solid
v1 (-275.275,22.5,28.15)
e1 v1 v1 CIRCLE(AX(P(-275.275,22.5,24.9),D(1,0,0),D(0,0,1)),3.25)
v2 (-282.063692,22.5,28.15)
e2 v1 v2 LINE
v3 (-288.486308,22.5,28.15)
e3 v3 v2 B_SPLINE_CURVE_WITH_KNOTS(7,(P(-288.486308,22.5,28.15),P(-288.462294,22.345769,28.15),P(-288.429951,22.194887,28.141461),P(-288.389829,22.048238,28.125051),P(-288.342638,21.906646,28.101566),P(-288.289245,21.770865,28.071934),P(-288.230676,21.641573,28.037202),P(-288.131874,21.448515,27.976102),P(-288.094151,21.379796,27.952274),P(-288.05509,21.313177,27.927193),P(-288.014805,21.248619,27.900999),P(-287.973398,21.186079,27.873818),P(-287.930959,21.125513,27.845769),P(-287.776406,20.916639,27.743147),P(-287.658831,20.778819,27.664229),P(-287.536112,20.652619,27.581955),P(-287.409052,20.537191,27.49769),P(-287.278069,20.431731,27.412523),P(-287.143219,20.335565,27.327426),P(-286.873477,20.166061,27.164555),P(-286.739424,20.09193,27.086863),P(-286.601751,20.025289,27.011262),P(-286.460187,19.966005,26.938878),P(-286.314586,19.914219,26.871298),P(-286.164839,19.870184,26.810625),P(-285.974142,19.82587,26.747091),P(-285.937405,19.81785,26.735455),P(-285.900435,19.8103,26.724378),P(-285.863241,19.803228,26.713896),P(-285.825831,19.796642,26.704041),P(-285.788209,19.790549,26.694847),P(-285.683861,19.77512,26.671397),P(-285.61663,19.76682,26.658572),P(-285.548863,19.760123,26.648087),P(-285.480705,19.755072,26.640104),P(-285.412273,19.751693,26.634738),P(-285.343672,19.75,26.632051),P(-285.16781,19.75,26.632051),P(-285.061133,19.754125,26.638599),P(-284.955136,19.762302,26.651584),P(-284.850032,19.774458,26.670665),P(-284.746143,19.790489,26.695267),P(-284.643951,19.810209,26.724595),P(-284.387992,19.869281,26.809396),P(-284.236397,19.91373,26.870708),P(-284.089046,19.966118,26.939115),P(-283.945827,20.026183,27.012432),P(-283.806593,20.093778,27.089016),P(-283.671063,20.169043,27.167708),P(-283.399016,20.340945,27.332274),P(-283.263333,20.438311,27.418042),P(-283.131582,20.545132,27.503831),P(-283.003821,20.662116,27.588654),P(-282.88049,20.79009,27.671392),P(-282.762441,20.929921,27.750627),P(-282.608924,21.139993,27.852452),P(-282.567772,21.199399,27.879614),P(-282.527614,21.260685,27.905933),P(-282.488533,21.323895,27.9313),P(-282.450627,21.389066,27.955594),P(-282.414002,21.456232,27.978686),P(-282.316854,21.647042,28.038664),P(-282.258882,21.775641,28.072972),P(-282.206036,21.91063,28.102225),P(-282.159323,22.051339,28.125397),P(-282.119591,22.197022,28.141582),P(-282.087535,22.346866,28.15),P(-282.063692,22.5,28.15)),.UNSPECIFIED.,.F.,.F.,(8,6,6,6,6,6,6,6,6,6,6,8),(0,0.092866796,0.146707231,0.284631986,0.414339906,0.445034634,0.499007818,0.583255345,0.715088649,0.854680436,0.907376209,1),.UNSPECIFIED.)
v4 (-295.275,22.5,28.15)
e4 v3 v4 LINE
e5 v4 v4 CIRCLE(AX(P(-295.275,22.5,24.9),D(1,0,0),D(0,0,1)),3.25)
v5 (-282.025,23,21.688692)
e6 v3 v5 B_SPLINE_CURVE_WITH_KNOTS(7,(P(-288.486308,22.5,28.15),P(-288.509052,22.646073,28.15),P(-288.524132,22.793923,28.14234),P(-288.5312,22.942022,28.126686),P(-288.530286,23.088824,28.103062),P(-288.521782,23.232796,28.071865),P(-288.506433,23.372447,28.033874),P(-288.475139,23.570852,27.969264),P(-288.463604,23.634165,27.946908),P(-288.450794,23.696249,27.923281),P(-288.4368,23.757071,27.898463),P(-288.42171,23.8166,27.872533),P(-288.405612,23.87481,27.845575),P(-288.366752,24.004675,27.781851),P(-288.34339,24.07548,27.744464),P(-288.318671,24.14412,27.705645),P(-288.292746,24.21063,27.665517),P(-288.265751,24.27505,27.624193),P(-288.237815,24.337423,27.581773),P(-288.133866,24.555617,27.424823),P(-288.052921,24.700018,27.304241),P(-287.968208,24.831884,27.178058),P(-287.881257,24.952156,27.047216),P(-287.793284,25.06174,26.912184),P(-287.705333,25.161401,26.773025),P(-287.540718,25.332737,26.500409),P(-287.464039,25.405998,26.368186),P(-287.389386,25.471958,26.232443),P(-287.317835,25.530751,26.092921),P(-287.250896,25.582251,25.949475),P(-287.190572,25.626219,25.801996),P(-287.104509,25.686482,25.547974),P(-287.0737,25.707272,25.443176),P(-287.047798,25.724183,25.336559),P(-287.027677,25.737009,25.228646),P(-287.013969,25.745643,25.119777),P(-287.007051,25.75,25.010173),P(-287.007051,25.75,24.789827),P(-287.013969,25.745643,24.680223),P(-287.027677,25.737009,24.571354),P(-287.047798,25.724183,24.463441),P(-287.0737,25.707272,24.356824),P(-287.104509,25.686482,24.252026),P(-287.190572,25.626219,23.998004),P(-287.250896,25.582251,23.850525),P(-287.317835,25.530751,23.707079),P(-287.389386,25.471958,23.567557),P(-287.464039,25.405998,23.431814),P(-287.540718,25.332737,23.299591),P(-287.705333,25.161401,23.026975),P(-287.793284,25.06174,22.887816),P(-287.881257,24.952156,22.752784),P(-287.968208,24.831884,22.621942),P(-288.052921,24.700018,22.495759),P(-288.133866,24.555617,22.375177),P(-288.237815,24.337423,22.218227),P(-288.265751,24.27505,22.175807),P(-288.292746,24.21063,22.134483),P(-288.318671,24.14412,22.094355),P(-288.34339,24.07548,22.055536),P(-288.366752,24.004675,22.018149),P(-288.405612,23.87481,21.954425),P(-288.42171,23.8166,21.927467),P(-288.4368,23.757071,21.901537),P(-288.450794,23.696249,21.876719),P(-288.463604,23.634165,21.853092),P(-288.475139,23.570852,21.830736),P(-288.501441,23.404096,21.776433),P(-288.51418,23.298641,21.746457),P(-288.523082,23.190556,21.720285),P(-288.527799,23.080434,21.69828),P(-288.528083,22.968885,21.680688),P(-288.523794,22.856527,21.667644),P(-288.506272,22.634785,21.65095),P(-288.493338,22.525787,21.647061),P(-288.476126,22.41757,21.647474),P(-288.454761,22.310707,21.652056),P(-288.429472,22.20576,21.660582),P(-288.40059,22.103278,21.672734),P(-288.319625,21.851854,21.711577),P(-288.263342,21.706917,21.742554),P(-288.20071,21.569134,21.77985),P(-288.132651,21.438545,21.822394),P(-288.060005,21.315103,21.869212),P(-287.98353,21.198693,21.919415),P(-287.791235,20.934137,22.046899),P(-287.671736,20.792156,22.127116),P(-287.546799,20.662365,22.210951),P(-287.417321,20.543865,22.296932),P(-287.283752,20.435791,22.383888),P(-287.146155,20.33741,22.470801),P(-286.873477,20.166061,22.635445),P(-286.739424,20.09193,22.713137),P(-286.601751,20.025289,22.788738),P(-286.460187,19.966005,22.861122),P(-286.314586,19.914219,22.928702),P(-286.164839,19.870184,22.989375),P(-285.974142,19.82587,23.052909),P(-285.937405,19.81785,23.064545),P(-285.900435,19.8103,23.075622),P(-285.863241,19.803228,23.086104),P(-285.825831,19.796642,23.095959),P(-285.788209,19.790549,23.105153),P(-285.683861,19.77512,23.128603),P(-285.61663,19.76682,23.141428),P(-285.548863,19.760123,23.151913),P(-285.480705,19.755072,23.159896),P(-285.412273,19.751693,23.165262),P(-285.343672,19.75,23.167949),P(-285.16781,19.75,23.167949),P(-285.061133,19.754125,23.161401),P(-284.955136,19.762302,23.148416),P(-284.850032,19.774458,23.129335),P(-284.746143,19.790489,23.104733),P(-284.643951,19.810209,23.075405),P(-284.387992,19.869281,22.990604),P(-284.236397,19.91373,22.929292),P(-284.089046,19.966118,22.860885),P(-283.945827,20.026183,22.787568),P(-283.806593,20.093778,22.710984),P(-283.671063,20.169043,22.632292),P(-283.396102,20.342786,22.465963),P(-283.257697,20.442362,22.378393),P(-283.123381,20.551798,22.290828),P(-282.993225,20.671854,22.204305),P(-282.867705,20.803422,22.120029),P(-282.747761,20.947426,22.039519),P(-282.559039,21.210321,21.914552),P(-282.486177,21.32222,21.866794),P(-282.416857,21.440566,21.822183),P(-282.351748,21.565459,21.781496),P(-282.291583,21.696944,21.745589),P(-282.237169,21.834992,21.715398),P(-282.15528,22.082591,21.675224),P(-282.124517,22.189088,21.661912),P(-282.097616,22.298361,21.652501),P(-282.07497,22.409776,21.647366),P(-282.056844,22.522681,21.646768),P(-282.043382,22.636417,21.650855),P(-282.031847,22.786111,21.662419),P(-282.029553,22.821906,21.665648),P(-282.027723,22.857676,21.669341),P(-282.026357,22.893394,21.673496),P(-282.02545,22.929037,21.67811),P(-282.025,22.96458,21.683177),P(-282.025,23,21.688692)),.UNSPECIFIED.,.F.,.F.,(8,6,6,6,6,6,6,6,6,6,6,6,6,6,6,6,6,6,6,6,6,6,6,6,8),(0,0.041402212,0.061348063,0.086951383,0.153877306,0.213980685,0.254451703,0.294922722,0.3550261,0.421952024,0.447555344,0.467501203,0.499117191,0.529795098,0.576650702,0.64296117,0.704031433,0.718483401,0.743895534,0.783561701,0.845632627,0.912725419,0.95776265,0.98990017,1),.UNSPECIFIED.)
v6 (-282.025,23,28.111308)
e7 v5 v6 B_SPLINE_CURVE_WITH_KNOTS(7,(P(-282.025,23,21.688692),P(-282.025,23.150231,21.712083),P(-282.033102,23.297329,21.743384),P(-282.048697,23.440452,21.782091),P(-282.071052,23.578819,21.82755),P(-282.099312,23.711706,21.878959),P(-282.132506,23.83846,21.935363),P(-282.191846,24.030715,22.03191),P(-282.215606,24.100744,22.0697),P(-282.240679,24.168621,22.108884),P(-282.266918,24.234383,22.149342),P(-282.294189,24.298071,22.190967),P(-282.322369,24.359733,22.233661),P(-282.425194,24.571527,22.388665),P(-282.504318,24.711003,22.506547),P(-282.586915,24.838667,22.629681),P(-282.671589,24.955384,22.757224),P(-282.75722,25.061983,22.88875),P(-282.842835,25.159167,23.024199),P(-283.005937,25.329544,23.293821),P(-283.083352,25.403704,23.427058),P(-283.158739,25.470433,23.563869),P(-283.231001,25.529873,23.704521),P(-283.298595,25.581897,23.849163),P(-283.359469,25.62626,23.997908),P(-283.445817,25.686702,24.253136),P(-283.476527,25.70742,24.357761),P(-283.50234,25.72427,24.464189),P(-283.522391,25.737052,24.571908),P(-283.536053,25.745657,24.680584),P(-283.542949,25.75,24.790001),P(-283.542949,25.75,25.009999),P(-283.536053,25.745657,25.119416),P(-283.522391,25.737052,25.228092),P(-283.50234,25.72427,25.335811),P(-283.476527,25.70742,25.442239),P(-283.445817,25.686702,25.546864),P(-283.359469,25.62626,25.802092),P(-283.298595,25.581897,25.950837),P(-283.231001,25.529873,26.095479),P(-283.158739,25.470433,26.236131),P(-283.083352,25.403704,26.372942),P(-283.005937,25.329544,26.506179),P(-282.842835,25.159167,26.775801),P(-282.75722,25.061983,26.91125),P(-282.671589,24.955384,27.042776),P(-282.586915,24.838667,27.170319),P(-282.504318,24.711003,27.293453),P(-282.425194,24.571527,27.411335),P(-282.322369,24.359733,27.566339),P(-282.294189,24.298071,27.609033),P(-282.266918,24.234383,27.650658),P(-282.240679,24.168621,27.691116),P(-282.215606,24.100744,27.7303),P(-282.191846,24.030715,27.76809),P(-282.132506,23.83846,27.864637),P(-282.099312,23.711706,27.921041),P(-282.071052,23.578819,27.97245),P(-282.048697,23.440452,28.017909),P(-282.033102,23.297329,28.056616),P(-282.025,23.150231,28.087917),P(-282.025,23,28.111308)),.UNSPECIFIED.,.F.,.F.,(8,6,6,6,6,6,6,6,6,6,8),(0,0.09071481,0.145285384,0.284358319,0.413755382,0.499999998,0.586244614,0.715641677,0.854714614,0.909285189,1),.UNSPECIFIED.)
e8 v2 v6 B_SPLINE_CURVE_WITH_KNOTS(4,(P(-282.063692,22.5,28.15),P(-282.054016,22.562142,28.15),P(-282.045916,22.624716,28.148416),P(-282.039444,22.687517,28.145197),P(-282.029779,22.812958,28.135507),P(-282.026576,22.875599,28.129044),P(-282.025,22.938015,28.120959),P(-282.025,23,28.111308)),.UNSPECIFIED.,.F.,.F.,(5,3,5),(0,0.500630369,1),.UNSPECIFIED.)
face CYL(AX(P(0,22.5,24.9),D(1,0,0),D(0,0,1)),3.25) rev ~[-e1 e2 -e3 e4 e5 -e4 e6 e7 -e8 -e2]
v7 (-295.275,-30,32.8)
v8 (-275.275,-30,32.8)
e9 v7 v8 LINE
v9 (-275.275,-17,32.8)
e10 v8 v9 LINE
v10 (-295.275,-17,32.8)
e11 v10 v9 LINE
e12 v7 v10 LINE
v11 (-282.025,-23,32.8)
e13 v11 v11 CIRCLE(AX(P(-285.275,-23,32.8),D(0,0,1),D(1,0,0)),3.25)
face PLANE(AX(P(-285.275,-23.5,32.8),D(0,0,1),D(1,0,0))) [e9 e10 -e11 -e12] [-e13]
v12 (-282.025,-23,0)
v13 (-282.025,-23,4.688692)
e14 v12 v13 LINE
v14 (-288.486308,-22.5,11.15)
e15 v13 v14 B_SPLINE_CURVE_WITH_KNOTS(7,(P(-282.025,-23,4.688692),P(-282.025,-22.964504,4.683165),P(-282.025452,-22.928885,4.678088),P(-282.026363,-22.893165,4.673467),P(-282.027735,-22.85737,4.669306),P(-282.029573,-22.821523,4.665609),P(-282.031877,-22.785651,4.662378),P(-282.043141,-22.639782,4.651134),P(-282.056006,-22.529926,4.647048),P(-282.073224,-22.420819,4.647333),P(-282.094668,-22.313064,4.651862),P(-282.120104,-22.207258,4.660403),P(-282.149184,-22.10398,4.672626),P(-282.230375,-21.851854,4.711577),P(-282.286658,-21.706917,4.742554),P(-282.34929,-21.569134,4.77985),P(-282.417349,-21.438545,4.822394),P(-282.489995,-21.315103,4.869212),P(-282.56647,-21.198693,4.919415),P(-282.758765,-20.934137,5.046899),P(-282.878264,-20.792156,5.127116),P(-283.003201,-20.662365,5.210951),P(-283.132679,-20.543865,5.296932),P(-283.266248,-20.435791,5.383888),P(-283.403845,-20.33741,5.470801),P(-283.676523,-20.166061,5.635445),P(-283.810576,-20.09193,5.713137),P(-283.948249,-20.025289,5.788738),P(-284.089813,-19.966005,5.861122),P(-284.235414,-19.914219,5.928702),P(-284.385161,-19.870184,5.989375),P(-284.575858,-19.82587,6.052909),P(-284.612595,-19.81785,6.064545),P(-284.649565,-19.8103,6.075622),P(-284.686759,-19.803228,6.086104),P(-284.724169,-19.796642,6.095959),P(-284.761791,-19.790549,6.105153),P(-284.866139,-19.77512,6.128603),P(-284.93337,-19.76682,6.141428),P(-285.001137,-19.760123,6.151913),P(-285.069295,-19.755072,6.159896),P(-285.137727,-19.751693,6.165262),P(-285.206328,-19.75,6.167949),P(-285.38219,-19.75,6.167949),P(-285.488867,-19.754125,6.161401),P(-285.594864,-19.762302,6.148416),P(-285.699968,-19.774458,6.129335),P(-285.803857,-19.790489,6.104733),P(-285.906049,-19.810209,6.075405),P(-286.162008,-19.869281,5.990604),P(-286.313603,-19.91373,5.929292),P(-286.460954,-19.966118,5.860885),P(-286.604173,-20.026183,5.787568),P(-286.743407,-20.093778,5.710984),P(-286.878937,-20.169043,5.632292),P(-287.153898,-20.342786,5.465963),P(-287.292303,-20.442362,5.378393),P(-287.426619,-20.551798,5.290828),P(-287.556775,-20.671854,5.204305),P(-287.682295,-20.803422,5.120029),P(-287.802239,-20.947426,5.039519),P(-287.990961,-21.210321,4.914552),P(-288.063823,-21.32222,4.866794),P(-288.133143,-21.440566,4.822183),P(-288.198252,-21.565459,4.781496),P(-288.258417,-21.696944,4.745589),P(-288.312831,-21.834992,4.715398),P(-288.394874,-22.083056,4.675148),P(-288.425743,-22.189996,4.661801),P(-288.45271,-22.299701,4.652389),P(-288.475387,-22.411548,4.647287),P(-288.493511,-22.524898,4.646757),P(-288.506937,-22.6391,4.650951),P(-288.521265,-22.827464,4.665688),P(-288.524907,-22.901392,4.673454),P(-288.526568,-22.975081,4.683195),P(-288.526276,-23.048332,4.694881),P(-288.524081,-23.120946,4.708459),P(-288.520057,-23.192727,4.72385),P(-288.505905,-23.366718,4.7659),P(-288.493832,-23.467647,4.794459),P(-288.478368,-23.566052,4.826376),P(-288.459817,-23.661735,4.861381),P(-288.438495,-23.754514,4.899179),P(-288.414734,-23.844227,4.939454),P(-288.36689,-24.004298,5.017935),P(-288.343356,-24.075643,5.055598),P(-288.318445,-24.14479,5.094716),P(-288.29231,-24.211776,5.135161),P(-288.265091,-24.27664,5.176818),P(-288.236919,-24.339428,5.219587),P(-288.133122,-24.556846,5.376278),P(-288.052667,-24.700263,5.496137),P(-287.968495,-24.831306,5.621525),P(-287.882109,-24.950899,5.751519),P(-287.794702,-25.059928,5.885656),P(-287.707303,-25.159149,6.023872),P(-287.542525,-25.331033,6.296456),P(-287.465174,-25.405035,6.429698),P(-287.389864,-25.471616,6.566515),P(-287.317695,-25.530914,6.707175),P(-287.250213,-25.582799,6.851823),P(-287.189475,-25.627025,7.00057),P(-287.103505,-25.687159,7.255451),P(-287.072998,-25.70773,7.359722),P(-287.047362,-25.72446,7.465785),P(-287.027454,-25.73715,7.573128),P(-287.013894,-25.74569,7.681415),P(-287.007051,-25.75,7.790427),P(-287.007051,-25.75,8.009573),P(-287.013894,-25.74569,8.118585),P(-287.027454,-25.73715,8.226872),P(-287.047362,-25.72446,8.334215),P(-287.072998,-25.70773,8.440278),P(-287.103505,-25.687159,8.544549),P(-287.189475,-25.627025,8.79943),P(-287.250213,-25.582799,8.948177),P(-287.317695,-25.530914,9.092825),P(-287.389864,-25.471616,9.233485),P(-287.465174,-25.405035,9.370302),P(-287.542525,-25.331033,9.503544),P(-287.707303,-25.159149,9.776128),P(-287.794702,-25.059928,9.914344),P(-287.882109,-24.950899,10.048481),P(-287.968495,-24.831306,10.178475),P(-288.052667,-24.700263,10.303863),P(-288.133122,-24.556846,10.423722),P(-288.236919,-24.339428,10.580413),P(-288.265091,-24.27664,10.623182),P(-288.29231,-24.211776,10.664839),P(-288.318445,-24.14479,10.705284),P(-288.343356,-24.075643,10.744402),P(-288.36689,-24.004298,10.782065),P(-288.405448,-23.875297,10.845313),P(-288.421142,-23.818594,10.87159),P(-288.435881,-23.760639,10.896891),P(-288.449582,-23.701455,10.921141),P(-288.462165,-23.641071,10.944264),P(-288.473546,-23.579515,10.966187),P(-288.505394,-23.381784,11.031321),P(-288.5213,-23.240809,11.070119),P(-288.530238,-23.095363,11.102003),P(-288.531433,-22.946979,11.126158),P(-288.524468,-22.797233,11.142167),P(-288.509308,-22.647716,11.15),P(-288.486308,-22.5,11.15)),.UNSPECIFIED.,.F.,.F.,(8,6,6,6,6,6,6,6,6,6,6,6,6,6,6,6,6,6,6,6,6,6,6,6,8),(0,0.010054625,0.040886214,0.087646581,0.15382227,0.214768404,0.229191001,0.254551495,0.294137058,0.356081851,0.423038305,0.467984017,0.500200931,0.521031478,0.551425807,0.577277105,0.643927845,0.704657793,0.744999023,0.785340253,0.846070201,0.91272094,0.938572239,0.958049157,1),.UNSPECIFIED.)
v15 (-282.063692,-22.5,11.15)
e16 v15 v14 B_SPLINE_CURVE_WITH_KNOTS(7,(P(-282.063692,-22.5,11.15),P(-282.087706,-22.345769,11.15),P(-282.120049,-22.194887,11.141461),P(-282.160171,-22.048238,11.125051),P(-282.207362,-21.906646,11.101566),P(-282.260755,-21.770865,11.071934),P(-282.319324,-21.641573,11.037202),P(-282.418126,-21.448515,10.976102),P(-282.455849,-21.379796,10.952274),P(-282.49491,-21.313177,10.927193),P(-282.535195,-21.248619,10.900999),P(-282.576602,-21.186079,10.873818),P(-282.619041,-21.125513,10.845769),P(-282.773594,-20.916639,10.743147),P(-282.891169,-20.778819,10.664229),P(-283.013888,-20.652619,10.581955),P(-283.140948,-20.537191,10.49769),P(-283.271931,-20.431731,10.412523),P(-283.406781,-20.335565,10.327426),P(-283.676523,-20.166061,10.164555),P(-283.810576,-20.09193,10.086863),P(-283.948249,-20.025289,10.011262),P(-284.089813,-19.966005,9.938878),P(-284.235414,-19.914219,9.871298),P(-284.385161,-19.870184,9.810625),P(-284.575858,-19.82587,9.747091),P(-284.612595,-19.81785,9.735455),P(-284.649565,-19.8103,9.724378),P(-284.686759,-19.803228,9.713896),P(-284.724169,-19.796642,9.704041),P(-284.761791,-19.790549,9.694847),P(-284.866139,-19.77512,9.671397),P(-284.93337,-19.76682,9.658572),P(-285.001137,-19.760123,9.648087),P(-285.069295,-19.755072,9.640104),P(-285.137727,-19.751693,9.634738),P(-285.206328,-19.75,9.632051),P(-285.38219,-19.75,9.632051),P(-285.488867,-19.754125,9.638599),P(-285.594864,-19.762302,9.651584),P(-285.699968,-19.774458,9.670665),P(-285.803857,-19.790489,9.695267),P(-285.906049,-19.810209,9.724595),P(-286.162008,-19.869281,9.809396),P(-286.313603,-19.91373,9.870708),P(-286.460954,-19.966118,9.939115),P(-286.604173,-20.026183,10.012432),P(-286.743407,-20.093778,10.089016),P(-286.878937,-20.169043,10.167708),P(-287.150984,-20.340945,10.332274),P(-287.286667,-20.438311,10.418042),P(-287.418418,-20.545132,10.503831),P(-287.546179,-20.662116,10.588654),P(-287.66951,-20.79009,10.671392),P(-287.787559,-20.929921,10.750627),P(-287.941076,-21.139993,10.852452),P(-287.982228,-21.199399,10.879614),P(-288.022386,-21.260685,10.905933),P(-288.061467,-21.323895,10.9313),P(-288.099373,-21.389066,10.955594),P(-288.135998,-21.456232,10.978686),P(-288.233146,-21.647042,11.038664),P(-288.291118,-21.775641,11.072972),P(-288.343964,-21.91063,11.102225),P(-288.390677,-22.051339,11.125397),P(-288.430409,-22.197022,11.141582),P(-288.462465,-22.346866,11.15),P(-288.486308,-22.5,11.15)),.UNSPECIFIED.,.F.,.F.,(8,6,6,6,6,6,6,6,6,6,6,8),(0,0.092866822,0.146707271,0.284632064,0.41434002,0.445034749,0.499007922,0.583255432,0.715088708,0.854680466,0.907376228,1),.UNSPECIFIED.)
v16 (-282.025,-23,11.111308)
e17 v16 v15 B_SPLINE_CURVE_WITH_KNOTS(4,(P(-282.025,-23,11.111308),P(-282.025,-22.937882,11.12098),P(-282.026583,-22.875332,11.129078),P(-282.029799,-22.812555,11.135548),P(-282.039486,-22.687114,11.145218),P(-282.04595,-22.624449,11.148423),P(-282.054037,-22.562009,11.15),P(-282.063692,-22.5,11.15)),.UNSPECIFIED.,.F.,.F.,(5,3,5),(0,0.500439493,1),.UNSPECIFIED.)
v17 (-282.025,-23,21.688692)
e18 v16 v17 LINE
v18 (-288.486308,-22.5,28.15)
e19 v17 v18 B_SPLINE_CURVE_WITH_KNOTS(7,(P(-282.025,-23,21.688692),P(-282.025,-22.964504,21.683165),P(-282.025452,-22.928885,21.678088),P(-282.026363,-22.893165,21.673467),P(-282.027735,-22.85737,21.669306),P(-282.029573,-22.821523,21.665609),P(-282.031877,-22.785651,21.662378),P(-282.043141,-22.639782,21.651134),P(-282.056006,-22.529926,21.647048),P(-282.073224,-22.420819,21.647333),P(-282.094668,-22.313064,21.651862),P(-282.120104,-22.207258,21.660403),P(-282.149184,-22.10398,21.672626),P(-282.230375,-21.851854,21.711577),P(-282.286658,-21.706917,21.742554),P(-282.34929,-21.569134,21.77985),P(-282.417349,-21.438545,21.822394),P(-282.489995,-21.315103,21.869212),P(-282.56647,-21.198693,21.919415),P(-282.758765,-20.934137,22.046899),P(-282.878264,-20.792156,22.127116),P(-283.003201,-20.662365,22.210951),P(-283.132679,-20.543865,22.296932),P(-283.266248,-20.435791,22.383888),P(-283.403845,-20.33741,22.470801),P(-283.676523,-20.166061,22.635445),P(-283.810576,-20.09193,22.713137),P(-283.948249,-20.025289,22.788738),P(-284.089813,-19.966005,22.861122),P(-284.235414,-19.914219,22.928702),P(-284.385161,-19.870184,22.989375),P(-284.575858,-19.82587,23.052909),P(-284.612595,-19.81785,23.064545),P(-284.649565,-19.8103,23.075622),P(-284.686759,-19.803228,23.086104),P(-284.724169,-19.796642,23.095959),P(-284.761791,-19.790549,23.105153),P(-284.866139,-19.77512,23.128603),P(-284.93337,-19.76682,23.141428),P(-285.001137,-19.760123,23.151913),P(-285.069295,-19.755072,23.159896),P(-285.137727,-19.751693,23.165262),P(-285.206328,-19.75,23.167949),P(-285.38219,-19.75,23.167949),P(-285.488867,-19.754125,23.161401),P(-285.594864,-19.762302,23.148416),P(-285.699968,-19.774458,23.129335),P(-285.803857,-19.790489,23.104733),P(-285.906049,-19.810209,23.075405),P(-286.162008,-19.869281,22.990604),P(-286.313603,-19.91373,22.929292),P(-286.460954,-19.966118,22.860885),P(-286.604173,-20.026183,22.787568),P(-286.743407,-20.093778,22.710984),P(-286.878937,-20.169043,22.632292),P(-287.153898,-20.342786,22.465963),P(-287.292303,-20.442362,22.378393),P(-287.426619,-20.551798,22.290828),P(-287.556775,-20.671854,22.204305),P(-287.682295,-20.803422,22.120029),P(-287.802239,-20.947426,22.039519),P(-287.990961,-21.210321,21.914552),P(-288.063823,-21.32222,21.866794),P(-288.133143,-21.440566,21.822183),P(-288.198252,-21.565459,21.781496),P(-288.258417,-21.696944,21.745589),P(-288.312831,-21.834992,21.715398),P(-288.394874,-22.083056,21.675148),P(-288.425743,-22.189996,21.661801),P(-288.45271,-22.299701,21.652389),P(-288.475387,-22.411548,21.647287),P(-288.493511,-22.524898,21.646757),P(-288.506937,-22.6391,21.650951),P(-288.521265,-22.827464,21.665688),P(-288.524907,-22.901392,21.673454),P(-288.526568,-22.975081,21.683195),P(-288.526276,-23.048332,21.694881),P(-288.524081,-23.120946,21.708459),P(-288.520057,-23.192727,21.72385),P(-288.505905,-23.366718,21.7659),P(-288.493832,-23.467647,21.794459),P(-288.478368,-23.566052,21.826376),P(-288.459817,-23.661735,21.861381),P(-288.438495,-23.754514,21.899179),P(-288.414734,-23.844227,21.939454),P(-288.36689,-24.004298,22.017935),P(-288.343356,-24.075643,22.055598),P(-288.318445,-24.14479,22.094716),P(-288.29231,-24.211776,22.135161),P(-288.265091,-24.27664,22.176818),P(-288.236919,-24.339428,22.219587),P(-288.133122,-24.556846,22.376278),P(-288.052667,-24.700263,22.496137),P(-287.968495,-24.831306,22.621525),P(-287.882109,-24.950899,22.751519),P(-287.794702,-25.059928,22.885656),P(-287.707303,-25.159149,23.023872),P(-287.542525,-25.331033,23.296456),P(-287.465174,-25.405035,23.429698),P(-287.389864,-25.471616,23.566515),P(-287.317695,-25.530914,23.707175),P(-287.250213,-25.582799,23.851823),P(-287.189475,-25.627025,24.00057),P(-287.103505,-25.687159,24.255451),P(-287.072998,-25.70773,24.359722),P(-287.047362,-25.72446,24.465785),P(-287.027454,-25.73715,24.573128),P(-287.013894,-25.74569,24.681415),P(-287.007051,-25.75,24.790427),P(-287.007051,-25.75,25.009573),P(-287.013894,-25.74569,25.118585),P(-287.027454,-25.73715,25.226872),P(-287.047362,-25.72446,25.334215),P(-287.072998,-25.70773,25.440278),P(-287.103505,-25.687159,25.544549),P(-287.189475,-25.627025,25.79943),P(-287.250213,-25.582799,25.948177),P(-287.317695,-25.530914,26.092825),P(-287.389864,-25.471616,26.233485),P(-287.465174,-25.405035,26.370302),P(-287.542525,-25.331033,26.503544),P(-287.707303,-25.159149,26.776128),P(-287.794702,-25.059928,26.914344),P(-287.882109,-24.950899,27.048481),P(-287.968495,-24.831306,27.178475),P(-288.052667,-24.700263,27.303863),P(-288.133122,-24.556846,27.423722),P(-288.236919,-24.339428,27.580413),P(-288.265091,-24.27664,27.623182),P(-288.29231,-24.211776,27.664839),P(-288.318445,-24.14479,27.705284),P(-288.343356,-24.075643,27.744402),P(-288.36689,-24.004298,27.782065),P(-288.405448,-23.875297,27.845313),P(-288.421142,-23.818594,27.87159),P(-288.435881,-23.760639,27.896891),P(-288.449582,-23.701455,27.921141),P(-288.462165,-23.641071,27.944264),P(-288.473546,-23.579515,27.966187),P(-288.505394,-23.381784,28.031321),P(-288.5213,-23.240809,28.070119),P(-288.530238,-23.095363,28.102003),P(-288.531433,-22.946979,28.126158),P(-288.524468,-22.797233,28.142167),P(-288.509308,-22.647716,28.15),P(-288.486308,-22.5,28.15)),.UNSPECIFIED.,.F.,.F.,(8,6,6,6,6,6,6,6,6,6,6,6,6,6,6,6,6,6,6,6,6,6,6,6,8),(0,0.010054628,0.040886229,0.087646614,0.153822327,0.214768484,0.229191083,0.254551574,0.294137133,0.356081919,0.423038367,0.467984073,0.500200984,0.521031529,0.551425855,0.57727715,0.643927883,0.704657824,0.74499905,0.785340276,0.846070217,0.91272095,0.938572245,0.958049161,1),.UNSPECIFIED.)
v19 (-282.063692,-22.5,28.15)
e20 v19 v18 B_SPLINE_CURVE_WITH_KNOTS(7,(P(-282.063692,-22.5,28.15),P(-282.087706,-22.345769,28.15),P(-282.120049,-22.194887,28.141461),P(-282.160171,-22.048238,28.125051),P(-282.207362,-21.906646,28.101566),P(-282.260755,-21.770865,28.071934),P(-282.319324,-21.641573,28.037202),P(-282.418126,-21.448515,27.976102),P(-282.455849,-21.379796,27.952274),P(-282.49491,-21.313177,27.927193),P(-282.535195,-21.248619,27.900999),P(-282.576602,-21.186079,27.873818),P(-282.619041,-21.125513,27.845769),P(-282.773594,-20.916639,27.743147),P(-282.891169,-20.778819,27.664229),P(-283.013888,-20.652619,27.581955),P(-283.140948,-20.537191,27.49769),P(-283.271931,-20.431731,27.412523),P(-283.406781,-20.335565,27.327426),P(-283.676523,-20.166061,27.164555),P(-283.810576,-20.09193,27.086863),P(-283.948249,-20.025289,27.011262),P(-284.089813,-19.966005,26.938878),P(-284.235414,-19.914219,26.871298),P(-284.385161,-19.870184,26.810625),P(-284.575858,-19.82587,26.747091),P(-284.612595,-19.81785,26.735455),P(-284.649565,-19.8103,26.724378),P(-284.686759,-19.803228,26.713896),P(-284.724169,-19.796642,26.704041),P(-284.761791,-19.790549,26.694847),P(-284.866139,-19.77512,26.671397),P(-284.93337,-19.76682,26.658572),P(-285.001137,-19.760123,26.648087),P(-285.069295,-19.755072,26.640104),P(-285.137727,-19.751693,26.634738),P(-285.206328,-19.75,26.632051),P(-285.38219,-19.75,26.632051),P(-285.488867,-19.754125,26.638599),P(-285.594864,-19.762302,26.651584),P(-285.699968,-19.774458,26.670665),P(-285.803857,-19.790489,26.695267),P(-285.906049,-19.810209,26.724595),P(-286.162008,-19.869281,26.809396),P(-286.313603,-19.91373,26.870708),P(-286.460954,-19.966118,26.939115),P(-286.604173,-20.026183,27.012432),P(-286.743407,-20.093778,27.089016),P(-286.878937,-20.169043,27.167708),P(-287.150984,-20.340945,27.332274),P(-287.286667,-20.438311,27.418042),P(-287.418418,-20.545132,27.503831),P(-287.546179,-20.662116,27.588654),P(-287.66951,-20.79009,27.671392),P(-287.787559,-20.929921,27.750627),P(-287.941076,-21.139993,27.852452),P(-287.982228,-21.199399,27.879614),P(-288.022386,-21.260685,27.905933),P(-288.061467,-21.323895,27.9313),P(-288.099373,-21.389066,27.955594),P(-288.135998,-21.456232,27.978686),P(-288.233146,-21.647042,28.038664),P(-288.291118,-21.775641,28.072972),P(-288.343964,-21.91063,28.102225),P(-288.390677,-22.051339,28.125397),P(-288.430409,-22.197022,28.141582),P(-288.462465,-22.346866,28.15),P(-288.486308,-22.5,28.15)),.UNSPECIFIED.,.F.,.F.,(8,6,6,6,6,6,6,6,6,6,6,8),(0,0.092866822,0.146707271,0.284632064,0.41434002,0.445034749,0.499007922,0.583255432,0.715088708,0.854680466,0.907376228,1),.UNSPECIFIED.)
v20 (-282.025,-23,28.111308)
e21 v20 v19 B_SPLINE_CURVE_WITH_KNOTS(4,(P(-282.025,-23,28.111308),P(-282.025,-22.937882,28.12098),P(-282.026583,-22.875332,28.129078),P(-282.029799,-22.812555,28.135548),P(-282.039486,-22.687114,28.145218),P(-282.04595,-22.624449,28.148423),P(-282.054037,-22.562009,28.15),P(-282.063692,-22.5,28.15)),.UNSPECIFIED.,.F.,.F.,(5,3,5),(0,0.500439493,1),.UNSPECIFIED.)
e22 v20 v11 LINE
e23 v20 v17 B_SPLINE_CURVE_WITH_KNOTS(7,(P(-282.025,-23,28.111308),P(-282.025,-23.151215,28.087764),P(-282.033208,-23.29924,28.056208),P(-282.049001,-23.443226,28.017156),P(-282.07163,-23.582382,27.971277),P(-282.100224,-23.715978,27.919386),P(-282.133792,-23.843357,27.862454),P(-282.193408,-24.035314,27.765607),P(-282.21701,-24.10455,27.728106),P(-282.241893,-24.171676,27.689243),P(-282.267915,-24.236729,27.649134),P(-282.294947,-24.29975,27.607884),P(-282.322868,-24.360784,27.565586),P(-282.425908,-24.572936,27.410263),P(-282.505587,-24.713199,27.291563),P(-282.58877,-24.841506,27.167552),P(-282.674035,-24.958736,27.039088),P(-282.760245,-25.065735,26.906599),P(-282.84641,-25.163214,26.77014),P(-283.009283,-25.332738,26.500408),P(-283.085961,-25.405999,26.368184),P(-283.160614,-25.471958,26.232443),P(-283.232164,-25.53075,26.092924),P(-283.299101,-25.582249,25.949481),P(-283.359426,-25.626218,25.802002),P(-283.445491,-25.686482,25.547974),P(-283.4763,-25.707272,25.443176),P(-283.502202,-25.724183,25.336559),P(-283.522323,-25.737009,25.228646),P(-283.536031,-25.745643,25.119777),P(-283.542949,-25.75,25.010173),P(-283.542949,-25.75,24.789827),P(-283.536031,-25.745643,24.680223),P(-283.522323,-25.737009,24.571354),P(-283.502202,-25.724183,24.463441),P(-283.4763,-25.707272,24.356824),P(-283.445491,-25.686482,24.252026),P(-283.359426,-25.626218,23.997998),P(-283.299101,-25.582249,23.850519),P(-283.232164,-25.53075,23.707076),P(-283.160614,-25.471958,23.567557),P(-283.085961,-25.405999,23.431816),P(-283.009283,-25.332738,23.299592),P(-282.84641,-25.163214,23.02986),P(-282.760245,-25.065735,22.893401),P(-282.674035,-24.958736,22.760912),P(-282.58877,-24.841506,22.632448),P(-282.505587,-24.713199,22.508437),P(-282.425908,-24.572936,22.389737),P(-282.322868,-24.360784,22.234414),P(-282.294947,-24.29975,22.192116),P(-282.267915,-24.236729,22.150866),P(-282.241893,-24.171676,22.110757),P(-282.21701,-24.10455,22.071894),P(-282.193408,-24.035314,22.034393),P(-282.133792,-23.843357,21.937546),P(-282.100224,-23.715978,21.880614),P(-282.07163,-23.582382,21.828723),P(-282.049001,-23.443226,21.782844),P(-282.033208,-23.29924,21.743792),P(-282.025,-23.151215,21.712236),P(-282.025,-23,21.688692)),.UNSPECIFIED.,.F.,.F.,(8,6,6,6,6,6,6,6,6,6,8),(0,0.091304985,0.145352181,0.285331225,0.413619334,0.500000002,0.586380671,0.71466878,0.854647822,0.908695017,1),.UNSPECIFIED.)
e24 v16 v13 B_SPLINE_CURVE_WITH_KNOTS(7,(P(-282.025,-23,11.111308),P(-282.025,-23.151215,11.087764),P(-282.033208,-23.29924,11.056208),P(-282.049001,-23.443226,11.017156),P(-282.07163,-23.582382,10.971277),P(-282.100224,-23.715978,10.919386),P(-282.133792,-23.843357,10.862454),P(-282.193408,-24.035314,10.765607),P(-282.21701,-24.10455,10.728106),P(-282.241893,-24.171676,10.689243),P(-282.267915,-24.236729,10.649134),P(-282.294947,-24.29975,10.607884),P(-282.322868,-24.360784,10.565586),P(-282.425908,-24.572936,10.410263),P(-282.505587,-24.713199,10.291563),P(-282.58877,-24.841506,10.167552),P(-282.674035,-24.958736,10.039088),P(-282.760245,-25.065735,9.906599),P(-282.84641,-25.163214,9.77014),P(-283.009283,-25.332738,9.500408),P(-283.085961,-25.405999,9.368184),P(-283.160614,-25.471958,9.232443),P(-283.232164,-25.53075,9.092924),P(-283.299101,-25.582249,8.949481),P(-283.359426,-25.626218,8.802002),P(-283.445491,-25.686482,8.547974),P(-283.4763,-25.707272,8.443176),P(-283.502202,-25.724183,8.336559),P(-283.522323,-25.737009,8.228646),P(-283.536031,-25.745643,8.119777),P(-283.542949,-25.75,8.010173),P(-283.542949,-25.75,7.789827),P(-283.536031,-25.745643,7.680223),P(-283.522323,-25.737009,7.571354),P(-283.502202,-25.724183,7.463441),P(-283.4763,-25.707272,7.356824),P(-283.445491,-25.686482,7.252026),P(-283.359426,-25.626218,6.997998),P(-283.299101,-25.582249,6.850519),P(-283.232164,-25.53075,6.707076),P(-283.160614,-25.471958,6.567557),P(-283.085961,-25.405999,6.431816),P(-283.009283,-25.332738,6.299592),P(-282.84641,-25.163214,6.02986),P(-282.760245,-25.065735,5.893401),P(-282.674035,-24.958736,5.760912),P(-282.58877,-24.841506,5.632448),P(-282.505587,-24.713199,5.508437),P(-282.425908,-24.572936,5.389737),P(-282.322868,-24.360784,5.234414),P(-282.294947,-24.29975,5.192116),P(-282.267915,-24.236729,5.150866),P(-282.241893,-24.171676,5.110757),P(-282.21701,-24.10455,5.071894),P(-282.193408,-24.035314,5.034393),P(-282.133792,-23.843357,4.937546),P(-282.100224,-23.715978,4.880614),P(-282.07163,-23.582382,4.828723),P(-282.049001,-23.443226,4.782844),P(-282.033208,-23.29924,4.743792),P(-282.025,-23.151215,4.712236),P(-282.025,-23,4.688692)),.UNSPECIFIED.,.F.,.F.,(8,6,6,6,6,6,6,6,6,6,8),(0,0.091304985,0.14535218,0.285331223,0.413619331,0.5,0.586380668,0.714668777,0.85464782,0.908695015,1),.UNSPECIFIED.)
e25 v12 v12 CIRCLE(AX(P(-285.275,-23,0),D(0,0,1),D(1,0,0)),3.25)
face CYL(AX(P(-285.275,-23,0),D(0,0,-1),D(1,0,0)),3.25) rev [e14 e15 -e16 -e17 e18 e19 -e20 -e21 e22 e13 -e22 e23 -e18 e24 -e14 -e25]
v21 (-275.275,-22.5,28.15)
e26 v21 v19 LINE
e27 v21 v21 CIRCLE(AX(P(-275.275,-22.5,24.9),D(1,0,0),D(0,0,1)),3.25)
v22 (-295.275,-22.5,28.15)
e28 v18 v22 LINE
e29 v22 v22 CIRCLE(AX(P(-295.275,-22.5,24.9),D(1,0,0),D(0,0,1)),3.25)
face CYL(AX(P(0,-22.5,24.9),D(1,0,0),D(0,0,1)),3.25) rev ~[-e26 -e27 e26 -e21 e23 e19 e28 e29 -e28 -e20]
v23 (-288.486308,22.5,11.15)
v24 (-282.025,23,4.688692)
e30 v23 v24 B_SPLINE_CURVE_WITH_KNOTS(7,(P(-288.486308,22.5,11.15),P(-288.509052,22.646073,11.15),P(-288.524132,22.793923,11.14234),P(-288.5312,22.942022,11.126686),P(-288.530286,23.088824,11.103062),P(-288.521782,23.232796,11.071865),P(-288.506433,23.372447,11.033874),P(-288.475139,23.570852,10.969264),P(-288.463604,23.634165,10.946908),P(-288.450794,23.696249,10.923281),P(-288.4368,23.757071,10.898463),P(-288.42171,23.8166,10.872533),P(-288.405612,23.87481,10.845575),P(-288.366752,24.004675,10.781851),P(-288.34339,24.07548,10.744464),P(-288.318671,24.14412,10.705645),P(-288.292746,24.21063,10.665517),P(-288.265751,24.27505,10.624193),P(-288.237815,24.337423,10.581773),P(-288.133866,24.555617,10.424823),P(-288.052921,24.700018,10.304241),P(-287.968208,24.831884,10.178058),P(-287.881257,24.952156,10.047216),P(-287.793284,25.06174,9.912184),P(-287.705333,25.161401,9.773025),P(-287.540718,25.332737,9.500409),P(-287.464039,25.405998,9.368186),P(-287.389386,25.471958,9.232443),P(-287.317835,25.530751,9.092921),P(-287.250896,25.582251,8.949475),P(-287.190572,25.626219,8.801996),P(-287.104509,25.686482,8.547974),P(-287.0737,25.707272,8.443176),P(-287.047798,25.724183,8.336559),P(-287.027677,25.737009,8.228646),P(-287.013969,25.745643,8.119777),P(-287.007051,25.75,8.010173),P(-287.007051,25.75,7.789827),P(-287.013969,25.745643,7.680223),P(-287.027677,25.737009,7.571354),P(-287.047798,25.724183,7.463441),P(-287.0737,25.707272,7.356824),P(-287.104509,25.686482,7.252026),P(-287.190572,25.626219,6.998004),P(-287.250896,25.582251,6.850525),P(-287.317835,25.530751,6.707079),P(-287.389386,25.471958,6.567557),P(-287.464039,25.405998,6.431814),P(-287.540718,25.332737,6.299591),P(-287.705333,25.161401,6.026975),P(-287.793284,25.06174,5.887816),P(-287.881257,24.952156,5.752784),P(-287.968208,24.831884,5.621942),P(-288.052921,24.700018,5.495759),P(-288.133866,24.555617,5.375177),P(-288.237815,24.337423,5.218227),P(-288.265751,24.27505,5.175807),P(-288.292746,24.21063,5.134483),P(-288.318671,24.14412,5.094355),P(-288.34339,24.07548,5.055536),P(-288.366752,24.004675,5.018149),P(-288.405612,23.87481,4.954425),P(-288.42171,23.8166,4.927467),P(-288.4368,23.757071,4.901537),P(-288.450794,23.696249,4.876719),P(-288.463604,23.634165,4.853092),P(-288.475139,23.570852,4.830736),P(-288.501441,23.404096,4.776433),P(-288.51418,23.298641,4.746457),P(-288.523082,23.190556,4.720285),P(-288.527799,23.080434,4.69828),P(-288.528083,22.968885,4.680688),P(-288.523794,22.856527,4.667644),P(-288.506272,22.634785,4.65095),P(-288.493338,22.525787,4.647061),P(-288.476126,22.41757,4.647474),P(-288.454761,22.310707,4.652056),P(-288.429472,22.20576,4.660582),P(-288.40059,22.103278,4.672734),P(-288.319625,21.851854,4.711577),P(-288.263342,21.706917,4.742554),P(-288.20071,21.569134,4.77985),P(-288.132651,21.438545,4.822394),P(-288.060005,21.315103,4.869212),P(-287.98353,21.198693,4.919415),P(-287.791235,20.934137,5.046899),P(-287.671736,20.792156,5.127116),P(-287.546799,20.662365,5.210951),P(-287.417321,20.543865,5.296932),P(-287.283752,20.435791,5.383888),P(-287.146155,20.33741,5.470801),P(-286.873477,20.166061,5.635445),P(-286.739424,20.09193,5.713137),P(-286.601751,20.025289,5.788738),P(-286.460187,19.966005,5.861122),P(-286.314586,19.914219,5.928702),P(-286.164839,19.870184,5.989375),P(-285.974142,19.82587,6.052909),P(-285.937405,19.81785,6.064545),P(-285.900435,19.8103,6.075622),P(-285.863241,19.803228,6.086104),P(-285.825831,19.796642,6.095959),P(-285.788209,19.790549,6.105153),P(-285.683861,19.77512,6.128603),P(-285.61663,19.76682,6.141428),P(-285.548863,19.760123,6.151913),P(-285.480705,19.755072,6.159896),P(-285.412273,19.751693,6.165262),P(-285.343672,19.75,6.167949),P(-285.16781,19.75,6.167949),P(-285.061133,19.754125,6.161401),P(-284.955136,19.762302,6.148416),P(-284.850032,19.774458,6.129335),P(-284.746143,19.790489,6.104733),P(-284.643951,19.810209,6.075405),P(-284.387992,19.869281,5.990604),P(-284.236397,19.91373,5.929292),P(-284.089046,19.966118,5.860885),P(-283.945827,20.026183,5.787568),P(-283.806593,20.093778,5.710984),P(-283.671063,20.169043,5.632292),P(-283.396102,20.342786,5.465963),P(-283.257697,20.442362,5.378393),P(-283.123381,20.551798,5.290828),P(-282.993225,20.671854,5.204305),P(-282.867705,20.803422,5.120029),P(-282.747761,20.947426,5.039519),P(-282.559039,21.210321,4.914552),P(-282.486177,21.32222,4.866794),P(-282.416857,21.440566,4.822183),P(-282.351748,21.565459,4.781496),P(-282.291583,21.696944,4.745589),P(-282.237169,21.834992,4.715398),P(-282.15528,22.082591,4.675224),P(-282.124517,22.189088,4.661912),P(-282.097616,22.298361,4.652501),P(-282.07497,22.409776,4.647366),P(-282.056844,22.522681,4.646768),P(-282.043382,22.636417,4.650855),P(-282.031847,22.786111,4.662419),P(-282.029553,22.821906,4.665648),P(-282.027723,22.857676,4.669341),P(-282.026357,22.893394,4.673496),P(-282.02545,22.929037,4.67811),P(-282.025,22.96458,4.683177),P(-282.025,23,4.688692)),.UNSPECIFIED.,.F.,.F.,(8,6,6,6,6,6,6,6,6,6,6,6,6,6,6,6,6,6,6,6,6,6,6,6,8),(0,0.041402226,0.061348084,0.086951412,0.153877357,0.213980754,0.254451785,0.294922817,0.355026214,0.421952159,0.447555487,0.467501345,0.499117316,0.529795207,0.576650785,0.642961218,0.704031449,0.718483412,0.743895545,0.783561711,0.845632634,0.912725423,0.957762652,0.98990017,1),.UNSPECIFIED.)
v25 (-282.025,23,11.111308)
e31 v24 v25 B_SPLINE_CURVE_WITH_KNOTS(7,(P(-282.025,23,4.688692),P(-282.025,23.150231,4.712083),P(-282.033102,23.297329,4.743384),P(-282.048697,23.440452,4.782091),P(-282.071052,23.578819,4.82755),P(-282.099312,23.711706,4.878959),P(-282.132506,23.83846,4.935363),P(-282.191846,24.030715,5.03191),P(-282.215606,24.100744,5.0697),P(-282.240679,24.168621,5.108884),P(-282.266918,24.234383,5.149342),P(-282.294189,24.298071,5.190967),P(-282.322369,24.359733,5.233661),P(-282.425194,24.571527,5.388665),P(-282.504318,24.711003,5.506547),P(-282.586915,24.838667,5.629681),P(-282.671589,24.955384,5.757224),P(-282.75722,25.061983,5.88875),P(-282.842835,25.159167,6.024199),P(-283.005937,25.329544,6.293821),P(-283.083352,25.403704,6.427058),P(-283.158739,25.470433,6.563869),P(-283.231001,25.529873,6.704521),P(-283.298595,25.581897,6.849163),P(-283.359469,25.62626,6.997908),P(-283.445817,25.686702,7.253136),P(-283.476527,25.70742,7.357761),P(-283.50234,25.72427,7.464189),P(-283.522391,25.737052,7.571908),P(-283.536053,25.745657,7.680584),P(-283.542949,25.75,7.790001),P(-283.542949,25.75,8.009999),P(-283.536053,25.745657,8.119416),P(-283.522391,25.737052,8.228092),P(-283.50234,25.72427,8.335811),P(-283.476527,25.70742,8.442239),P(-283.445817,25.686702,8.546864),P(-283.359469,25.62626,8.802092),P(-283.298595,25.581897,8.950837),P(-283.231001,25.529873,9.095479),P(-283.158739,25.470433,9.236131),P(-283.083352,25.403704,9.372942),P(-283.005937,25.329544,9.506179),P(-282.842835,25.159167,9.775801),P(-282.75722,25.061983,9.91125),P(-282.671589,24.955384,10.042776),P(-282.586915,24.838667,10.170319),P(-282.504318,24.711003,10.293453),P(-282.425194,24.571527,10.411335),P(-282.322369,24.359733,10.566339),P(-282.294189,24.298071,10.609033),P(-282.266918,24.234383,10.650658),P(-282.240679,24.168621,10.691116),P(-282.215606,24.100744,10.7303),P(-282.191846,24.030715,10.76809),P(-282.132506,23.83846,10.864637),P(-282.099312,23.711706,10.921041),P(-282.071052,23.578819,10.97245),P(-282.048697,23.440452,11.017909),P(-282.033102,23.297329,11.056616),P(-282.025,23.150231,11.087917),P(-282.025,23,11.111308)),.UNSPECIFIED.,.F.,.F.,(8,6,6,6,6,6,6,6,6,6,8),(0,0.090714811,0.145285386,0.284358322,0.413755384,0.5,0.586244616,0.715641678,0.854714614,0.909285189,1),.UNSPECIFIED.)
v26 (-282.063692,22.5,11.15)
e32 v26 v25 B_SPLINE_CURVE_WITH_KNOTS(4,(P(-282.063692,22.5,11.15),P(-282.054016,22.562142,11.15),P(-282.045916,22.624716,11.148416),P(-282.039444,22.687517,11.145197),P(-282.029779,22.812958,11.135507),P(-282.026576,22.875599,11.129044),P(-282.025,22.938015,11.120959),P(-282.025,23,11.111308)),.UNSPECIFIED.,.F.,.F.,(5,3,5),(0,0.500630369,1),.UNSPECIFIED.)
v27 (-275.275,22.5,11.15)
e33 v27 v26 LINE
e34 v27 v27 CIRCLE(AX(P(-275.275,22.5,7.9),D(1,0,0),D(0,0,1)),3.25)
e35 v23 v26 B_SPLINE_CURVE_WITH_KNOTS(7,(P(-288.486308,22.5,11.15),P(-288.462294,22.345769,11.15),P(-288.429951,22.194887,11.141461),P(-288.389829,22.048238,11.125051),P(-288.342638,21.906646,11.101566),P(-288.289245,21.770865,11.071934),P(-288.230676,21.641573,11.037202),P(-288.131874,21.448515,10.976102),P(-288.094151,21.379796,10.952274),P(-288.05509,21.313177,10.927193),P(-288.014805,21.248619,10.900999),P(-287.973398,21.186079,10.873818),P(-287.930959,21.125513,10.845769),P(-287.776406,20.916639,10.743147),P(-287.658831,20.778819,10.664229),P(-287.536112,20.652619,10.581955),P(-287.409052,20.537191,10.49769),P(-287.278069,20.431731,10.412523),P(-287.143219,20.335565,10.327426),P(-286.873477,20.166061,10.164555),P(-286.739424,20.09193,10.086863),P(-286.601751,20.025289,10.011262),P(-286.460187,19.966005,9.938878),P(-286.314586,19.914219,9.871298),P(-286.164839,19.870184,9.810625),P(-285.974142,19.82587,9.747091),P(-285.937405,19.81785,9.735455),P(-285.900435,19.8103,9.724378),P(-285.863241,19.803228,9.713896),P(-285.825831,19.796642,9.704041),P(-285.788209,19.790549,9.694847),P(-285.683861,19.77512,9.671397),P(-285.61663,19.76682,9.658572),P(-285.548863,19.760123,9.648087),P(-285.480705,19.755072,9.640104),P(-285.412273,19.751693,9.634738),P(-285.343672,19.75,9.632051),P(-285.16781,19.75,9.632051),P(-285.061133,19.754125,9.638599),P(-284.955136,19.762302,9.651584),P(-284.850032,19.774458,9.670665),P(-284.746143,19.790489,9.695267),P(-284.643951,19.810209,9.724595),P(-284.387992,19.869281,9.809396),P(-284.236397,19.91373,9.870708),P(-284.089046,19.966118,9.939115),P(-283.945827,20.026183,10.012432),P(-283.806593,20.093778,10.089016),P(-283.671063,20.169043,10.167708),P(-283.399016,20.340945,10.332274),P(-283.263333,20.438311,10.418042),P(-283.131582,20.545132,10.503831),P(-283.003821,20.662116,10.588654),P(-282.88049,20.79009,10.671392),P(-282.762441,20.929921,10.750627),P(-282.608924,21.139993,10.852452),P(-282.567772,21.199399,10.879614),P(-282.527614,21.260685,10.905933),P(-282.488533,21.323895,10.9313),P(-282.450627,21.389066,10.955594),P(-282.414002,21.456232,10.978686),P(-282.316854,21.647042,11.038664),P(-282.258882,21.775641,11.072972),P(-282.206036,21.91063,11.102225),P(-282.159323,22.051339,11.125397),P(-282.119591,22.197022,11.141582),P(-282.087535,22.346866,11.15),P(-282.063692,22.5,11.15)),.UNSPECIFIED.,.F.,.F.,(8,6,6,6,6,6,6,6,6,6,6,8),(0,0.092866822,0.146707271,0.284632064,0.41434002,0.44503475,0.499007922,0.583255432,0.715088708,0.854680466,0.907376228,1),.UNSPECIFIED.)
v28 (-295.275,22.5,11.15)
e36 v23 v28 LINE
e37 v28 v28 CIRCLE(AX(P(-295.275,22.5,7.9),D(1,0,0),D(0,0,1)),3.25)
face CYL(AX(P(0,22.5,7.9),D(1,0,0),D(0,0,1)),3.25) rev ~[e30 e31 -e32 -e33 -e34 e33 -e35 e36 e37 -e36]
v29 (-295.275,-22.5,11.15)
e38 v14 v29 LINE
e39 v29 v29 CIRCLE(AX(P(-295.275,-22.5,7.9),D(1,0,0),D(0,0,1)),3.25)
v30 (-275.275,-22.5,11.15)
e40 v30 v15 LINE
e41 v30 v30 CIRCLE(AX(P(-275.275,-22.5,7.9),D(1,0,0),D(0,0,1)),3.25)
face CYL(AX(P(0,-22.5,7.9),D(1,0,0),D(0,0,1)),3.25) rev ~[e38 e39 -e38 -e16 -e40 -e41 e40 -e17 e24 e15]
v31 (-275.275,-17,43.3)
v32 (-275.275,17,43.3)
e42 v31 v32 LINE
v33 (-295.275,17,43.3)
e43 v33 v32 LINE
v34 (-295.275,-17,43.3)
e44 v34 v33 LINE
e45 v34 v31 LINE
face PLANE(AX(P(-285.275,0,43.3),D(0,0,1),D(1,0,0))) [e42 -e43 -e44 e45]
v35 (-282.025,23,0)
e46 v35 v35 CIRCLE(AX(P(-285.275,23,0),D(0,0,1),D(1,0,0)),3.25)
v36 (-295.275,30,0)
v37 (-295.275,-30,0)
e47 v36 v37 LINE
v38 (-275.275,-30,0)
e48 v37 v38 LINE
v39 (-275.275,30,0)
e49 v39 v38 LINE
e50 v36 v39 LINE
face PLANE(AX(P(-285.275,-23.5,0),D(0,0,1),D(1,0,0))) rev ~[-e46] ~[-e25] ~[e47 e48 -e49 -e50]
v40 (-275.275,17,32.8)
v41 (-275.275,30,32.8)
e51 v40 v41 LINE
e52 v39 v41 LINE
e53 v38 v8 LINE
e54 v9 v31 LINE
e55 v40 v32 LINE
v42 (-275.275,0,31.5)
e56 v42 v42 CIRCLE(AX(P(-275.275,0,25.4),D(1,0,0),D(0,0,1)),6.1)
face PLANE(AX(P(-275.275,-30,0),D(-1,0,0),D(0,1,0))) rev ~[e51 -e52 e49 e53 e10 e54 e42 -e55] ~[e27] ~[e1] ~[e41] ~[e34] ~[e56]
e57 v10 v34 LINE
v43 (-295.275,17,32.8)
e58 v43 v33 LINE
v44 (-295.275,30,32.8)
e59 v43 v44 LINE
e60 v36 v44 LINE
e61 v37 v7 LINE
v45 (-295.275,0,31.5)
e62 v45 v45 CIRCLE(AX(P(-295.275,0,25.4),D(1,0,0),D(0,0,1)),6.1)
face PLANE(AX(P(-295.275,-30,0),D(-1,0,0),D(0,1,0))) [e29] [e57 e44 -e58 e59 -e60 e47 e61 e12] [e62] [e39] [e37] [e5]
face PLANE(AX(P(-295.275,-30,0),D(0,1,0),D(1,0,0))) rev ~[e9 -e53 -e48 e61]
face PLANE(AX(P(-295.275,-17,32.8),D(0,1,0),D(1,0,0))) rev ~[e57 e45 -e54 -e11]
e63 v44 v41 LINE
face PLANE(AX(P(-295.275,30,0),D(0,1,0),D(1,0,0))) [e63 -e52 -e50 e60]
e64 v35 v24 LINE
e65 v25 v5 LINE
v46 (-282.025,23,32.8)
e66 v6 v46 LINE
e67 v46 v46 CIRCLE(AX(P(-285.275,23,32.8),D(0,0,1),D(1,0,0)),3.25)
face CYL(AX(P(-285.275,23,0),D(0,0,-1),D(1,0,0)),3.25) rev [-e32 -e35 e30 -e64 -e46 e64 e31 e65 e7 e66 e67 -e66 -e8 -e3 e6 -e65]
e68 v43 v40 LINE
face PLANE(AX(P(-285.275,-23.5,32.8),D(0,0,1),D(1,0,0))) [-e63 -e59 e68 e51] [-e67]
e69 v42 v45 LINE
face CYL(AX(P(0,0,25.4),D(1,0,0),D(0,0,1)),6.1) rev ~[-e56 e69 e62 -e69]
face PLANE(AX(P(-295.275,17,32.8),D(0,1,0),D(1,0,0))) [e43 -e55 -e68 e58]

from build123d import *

# Parameters (mm, degrees)
SKETCH1_W           = 20
SKETCH1_H           = 13
SKETCH1_R           = 3.25
SKETCH1_H_2         = 34
BOSS_EXTRUDE1_DEPTH = 32.8
BOSS_EXTRUDE2_START = 32.8
SKETCH1_3_W         = 20
SKETCH1_3_H         = 34
BOSS_EXTRUDE2_DEPTH = 10.5
SKETCH2_OUTSIDE_W   = 60.63
SKETCH2_OUTSIDE_H   = 77.33
SKETCH2_OUTSIDE_R   = 6.1
SKETCH2_OUTSIDE_R_2 = 3.25
CUT_EXTRUDE1_DEPTH  = 295.275


with BuildPart() as part:
    # Sketch1 → Boss-Extrude1 (new body)
    # profile 1 of 3: a face of its own
    with BuildSketch(Plane.XY):
        with Locations((-285.275, 23.5)):
            Rectangle(SKETCH1_W, SKETCH1_H)
        with Locations((-285.275, 23)):
            Circle(SKETCH1_R, mode=Mode.SUBTRACT)
    # profile 2 of 3: a face of its own
    with BuildSketch(Plane.XY):
        with Locations((-285.275, 0)):
            Rectangle(SKETCH1_W, SKETCH1_H_2)
    # profile 3 of 3: a face of its own
    with BuildSketch(Plane.XY):
        with Locations((-285.275, -23.5)):
            Rectangle(SKETCH1_W, SKETCH1_H)
        with Locations((-285.275, -23)):
            Circle(SKETCH1_R, mode=Mode.SUBTRACT)
    extrude(amount=BOSS_EXTRUDE1_DEPTH)

    # Sketch1<3> → Boss-Extrude2 (add)
    with BuildSketch(Plane.XY.offset(BOSS_EXTRUDE2_START)):
        with Locations((-285.275, 0)):
            Rectangle(SKETCH1_3_W, SKETCH1_3_H)
    extrude(amount=BOSS_EXTRUDE2_DEPTH)

    # Sketch2 outside → Cut-Extrude1 (cut)
    # profile 1 of 6: a face of its own
    with BuildSketch(Plane(origin=(0, 0, 0), x_dir=(0, 0, -1), z_dir=(1, 0, 0))):
        with Locations((-21.65, 0)):
            Rectangle(SKETCH2_OUTSIDE_W, SKETCH2_OUTSIDE_H)
        Polygon((0, -30), (0, 30), (-32.8, 30), (-32.8, 17), (-43.3, 17), (-43.3, -17), (-32.8, -17), (-32.8, -30), align=None, mode=Mode.SUBTRACT)
    # profile 2 of 6: a face of its own
    with BuildSketch(Plane(origin=(0, 0, 0), x_dir=(0, 0, -1), z_dir=(1, 0, 0))):
        with Locations(Location((-25.4, 0, 0), (0, 0, 180))):
            Circle(SKETCH2_OUTSIDE_R)
    # profile 3 of 6: a face of its own
    with BuildSketch(Plane(origin=(0, 0, 0), x_dir=(0, 0, -1), z_dir=(1, 0, 0))):
        with Locations(Location((-7.9, -22.5, 0), (0, 0, 180))):
            Circle(SKETCH2_OUTSIDE_R_2)
    # profile 4 of 6: a face of its own
    with BuildSketch(Plane(origin=(0, 0, 0), x_dir=(0, 0, -1), z_dir=(1, 0, 0))):
        with Locations(Location((-24.9, -22.5, 0), (0, 0, 180))):
            Circle(SKETCH2_OUTSIDE_R_2)
    # profile 5 of 6: a face of its own
    with BuildSketch(Plane(origin=(0, 0, 0), x_dir=(0, 0, -1), z_dir=(1, 0, 0))):
        with Locations(Location((-24.9, 22.5, 0), (0, 0, 180))):
            Circle(SKETCH2_OUTSIDE_R_2)
    # profile 6 of 6: a face of its own
    with BuildSketch(Plane(origin=(0, 0, 0), x_dir=(0, 0, -1), z_dir=(1, 0, 0))):
        with Locations(Location((-7.9, 22.5, 0), (0, 0, 180))):
            Circle(SKETCH2_OUTSIDE_R_2)
    extrude(amount=-CUT_EXTRUDE1_DEPTH, mode=Mode.SUBTRACT)


solid = part.part
